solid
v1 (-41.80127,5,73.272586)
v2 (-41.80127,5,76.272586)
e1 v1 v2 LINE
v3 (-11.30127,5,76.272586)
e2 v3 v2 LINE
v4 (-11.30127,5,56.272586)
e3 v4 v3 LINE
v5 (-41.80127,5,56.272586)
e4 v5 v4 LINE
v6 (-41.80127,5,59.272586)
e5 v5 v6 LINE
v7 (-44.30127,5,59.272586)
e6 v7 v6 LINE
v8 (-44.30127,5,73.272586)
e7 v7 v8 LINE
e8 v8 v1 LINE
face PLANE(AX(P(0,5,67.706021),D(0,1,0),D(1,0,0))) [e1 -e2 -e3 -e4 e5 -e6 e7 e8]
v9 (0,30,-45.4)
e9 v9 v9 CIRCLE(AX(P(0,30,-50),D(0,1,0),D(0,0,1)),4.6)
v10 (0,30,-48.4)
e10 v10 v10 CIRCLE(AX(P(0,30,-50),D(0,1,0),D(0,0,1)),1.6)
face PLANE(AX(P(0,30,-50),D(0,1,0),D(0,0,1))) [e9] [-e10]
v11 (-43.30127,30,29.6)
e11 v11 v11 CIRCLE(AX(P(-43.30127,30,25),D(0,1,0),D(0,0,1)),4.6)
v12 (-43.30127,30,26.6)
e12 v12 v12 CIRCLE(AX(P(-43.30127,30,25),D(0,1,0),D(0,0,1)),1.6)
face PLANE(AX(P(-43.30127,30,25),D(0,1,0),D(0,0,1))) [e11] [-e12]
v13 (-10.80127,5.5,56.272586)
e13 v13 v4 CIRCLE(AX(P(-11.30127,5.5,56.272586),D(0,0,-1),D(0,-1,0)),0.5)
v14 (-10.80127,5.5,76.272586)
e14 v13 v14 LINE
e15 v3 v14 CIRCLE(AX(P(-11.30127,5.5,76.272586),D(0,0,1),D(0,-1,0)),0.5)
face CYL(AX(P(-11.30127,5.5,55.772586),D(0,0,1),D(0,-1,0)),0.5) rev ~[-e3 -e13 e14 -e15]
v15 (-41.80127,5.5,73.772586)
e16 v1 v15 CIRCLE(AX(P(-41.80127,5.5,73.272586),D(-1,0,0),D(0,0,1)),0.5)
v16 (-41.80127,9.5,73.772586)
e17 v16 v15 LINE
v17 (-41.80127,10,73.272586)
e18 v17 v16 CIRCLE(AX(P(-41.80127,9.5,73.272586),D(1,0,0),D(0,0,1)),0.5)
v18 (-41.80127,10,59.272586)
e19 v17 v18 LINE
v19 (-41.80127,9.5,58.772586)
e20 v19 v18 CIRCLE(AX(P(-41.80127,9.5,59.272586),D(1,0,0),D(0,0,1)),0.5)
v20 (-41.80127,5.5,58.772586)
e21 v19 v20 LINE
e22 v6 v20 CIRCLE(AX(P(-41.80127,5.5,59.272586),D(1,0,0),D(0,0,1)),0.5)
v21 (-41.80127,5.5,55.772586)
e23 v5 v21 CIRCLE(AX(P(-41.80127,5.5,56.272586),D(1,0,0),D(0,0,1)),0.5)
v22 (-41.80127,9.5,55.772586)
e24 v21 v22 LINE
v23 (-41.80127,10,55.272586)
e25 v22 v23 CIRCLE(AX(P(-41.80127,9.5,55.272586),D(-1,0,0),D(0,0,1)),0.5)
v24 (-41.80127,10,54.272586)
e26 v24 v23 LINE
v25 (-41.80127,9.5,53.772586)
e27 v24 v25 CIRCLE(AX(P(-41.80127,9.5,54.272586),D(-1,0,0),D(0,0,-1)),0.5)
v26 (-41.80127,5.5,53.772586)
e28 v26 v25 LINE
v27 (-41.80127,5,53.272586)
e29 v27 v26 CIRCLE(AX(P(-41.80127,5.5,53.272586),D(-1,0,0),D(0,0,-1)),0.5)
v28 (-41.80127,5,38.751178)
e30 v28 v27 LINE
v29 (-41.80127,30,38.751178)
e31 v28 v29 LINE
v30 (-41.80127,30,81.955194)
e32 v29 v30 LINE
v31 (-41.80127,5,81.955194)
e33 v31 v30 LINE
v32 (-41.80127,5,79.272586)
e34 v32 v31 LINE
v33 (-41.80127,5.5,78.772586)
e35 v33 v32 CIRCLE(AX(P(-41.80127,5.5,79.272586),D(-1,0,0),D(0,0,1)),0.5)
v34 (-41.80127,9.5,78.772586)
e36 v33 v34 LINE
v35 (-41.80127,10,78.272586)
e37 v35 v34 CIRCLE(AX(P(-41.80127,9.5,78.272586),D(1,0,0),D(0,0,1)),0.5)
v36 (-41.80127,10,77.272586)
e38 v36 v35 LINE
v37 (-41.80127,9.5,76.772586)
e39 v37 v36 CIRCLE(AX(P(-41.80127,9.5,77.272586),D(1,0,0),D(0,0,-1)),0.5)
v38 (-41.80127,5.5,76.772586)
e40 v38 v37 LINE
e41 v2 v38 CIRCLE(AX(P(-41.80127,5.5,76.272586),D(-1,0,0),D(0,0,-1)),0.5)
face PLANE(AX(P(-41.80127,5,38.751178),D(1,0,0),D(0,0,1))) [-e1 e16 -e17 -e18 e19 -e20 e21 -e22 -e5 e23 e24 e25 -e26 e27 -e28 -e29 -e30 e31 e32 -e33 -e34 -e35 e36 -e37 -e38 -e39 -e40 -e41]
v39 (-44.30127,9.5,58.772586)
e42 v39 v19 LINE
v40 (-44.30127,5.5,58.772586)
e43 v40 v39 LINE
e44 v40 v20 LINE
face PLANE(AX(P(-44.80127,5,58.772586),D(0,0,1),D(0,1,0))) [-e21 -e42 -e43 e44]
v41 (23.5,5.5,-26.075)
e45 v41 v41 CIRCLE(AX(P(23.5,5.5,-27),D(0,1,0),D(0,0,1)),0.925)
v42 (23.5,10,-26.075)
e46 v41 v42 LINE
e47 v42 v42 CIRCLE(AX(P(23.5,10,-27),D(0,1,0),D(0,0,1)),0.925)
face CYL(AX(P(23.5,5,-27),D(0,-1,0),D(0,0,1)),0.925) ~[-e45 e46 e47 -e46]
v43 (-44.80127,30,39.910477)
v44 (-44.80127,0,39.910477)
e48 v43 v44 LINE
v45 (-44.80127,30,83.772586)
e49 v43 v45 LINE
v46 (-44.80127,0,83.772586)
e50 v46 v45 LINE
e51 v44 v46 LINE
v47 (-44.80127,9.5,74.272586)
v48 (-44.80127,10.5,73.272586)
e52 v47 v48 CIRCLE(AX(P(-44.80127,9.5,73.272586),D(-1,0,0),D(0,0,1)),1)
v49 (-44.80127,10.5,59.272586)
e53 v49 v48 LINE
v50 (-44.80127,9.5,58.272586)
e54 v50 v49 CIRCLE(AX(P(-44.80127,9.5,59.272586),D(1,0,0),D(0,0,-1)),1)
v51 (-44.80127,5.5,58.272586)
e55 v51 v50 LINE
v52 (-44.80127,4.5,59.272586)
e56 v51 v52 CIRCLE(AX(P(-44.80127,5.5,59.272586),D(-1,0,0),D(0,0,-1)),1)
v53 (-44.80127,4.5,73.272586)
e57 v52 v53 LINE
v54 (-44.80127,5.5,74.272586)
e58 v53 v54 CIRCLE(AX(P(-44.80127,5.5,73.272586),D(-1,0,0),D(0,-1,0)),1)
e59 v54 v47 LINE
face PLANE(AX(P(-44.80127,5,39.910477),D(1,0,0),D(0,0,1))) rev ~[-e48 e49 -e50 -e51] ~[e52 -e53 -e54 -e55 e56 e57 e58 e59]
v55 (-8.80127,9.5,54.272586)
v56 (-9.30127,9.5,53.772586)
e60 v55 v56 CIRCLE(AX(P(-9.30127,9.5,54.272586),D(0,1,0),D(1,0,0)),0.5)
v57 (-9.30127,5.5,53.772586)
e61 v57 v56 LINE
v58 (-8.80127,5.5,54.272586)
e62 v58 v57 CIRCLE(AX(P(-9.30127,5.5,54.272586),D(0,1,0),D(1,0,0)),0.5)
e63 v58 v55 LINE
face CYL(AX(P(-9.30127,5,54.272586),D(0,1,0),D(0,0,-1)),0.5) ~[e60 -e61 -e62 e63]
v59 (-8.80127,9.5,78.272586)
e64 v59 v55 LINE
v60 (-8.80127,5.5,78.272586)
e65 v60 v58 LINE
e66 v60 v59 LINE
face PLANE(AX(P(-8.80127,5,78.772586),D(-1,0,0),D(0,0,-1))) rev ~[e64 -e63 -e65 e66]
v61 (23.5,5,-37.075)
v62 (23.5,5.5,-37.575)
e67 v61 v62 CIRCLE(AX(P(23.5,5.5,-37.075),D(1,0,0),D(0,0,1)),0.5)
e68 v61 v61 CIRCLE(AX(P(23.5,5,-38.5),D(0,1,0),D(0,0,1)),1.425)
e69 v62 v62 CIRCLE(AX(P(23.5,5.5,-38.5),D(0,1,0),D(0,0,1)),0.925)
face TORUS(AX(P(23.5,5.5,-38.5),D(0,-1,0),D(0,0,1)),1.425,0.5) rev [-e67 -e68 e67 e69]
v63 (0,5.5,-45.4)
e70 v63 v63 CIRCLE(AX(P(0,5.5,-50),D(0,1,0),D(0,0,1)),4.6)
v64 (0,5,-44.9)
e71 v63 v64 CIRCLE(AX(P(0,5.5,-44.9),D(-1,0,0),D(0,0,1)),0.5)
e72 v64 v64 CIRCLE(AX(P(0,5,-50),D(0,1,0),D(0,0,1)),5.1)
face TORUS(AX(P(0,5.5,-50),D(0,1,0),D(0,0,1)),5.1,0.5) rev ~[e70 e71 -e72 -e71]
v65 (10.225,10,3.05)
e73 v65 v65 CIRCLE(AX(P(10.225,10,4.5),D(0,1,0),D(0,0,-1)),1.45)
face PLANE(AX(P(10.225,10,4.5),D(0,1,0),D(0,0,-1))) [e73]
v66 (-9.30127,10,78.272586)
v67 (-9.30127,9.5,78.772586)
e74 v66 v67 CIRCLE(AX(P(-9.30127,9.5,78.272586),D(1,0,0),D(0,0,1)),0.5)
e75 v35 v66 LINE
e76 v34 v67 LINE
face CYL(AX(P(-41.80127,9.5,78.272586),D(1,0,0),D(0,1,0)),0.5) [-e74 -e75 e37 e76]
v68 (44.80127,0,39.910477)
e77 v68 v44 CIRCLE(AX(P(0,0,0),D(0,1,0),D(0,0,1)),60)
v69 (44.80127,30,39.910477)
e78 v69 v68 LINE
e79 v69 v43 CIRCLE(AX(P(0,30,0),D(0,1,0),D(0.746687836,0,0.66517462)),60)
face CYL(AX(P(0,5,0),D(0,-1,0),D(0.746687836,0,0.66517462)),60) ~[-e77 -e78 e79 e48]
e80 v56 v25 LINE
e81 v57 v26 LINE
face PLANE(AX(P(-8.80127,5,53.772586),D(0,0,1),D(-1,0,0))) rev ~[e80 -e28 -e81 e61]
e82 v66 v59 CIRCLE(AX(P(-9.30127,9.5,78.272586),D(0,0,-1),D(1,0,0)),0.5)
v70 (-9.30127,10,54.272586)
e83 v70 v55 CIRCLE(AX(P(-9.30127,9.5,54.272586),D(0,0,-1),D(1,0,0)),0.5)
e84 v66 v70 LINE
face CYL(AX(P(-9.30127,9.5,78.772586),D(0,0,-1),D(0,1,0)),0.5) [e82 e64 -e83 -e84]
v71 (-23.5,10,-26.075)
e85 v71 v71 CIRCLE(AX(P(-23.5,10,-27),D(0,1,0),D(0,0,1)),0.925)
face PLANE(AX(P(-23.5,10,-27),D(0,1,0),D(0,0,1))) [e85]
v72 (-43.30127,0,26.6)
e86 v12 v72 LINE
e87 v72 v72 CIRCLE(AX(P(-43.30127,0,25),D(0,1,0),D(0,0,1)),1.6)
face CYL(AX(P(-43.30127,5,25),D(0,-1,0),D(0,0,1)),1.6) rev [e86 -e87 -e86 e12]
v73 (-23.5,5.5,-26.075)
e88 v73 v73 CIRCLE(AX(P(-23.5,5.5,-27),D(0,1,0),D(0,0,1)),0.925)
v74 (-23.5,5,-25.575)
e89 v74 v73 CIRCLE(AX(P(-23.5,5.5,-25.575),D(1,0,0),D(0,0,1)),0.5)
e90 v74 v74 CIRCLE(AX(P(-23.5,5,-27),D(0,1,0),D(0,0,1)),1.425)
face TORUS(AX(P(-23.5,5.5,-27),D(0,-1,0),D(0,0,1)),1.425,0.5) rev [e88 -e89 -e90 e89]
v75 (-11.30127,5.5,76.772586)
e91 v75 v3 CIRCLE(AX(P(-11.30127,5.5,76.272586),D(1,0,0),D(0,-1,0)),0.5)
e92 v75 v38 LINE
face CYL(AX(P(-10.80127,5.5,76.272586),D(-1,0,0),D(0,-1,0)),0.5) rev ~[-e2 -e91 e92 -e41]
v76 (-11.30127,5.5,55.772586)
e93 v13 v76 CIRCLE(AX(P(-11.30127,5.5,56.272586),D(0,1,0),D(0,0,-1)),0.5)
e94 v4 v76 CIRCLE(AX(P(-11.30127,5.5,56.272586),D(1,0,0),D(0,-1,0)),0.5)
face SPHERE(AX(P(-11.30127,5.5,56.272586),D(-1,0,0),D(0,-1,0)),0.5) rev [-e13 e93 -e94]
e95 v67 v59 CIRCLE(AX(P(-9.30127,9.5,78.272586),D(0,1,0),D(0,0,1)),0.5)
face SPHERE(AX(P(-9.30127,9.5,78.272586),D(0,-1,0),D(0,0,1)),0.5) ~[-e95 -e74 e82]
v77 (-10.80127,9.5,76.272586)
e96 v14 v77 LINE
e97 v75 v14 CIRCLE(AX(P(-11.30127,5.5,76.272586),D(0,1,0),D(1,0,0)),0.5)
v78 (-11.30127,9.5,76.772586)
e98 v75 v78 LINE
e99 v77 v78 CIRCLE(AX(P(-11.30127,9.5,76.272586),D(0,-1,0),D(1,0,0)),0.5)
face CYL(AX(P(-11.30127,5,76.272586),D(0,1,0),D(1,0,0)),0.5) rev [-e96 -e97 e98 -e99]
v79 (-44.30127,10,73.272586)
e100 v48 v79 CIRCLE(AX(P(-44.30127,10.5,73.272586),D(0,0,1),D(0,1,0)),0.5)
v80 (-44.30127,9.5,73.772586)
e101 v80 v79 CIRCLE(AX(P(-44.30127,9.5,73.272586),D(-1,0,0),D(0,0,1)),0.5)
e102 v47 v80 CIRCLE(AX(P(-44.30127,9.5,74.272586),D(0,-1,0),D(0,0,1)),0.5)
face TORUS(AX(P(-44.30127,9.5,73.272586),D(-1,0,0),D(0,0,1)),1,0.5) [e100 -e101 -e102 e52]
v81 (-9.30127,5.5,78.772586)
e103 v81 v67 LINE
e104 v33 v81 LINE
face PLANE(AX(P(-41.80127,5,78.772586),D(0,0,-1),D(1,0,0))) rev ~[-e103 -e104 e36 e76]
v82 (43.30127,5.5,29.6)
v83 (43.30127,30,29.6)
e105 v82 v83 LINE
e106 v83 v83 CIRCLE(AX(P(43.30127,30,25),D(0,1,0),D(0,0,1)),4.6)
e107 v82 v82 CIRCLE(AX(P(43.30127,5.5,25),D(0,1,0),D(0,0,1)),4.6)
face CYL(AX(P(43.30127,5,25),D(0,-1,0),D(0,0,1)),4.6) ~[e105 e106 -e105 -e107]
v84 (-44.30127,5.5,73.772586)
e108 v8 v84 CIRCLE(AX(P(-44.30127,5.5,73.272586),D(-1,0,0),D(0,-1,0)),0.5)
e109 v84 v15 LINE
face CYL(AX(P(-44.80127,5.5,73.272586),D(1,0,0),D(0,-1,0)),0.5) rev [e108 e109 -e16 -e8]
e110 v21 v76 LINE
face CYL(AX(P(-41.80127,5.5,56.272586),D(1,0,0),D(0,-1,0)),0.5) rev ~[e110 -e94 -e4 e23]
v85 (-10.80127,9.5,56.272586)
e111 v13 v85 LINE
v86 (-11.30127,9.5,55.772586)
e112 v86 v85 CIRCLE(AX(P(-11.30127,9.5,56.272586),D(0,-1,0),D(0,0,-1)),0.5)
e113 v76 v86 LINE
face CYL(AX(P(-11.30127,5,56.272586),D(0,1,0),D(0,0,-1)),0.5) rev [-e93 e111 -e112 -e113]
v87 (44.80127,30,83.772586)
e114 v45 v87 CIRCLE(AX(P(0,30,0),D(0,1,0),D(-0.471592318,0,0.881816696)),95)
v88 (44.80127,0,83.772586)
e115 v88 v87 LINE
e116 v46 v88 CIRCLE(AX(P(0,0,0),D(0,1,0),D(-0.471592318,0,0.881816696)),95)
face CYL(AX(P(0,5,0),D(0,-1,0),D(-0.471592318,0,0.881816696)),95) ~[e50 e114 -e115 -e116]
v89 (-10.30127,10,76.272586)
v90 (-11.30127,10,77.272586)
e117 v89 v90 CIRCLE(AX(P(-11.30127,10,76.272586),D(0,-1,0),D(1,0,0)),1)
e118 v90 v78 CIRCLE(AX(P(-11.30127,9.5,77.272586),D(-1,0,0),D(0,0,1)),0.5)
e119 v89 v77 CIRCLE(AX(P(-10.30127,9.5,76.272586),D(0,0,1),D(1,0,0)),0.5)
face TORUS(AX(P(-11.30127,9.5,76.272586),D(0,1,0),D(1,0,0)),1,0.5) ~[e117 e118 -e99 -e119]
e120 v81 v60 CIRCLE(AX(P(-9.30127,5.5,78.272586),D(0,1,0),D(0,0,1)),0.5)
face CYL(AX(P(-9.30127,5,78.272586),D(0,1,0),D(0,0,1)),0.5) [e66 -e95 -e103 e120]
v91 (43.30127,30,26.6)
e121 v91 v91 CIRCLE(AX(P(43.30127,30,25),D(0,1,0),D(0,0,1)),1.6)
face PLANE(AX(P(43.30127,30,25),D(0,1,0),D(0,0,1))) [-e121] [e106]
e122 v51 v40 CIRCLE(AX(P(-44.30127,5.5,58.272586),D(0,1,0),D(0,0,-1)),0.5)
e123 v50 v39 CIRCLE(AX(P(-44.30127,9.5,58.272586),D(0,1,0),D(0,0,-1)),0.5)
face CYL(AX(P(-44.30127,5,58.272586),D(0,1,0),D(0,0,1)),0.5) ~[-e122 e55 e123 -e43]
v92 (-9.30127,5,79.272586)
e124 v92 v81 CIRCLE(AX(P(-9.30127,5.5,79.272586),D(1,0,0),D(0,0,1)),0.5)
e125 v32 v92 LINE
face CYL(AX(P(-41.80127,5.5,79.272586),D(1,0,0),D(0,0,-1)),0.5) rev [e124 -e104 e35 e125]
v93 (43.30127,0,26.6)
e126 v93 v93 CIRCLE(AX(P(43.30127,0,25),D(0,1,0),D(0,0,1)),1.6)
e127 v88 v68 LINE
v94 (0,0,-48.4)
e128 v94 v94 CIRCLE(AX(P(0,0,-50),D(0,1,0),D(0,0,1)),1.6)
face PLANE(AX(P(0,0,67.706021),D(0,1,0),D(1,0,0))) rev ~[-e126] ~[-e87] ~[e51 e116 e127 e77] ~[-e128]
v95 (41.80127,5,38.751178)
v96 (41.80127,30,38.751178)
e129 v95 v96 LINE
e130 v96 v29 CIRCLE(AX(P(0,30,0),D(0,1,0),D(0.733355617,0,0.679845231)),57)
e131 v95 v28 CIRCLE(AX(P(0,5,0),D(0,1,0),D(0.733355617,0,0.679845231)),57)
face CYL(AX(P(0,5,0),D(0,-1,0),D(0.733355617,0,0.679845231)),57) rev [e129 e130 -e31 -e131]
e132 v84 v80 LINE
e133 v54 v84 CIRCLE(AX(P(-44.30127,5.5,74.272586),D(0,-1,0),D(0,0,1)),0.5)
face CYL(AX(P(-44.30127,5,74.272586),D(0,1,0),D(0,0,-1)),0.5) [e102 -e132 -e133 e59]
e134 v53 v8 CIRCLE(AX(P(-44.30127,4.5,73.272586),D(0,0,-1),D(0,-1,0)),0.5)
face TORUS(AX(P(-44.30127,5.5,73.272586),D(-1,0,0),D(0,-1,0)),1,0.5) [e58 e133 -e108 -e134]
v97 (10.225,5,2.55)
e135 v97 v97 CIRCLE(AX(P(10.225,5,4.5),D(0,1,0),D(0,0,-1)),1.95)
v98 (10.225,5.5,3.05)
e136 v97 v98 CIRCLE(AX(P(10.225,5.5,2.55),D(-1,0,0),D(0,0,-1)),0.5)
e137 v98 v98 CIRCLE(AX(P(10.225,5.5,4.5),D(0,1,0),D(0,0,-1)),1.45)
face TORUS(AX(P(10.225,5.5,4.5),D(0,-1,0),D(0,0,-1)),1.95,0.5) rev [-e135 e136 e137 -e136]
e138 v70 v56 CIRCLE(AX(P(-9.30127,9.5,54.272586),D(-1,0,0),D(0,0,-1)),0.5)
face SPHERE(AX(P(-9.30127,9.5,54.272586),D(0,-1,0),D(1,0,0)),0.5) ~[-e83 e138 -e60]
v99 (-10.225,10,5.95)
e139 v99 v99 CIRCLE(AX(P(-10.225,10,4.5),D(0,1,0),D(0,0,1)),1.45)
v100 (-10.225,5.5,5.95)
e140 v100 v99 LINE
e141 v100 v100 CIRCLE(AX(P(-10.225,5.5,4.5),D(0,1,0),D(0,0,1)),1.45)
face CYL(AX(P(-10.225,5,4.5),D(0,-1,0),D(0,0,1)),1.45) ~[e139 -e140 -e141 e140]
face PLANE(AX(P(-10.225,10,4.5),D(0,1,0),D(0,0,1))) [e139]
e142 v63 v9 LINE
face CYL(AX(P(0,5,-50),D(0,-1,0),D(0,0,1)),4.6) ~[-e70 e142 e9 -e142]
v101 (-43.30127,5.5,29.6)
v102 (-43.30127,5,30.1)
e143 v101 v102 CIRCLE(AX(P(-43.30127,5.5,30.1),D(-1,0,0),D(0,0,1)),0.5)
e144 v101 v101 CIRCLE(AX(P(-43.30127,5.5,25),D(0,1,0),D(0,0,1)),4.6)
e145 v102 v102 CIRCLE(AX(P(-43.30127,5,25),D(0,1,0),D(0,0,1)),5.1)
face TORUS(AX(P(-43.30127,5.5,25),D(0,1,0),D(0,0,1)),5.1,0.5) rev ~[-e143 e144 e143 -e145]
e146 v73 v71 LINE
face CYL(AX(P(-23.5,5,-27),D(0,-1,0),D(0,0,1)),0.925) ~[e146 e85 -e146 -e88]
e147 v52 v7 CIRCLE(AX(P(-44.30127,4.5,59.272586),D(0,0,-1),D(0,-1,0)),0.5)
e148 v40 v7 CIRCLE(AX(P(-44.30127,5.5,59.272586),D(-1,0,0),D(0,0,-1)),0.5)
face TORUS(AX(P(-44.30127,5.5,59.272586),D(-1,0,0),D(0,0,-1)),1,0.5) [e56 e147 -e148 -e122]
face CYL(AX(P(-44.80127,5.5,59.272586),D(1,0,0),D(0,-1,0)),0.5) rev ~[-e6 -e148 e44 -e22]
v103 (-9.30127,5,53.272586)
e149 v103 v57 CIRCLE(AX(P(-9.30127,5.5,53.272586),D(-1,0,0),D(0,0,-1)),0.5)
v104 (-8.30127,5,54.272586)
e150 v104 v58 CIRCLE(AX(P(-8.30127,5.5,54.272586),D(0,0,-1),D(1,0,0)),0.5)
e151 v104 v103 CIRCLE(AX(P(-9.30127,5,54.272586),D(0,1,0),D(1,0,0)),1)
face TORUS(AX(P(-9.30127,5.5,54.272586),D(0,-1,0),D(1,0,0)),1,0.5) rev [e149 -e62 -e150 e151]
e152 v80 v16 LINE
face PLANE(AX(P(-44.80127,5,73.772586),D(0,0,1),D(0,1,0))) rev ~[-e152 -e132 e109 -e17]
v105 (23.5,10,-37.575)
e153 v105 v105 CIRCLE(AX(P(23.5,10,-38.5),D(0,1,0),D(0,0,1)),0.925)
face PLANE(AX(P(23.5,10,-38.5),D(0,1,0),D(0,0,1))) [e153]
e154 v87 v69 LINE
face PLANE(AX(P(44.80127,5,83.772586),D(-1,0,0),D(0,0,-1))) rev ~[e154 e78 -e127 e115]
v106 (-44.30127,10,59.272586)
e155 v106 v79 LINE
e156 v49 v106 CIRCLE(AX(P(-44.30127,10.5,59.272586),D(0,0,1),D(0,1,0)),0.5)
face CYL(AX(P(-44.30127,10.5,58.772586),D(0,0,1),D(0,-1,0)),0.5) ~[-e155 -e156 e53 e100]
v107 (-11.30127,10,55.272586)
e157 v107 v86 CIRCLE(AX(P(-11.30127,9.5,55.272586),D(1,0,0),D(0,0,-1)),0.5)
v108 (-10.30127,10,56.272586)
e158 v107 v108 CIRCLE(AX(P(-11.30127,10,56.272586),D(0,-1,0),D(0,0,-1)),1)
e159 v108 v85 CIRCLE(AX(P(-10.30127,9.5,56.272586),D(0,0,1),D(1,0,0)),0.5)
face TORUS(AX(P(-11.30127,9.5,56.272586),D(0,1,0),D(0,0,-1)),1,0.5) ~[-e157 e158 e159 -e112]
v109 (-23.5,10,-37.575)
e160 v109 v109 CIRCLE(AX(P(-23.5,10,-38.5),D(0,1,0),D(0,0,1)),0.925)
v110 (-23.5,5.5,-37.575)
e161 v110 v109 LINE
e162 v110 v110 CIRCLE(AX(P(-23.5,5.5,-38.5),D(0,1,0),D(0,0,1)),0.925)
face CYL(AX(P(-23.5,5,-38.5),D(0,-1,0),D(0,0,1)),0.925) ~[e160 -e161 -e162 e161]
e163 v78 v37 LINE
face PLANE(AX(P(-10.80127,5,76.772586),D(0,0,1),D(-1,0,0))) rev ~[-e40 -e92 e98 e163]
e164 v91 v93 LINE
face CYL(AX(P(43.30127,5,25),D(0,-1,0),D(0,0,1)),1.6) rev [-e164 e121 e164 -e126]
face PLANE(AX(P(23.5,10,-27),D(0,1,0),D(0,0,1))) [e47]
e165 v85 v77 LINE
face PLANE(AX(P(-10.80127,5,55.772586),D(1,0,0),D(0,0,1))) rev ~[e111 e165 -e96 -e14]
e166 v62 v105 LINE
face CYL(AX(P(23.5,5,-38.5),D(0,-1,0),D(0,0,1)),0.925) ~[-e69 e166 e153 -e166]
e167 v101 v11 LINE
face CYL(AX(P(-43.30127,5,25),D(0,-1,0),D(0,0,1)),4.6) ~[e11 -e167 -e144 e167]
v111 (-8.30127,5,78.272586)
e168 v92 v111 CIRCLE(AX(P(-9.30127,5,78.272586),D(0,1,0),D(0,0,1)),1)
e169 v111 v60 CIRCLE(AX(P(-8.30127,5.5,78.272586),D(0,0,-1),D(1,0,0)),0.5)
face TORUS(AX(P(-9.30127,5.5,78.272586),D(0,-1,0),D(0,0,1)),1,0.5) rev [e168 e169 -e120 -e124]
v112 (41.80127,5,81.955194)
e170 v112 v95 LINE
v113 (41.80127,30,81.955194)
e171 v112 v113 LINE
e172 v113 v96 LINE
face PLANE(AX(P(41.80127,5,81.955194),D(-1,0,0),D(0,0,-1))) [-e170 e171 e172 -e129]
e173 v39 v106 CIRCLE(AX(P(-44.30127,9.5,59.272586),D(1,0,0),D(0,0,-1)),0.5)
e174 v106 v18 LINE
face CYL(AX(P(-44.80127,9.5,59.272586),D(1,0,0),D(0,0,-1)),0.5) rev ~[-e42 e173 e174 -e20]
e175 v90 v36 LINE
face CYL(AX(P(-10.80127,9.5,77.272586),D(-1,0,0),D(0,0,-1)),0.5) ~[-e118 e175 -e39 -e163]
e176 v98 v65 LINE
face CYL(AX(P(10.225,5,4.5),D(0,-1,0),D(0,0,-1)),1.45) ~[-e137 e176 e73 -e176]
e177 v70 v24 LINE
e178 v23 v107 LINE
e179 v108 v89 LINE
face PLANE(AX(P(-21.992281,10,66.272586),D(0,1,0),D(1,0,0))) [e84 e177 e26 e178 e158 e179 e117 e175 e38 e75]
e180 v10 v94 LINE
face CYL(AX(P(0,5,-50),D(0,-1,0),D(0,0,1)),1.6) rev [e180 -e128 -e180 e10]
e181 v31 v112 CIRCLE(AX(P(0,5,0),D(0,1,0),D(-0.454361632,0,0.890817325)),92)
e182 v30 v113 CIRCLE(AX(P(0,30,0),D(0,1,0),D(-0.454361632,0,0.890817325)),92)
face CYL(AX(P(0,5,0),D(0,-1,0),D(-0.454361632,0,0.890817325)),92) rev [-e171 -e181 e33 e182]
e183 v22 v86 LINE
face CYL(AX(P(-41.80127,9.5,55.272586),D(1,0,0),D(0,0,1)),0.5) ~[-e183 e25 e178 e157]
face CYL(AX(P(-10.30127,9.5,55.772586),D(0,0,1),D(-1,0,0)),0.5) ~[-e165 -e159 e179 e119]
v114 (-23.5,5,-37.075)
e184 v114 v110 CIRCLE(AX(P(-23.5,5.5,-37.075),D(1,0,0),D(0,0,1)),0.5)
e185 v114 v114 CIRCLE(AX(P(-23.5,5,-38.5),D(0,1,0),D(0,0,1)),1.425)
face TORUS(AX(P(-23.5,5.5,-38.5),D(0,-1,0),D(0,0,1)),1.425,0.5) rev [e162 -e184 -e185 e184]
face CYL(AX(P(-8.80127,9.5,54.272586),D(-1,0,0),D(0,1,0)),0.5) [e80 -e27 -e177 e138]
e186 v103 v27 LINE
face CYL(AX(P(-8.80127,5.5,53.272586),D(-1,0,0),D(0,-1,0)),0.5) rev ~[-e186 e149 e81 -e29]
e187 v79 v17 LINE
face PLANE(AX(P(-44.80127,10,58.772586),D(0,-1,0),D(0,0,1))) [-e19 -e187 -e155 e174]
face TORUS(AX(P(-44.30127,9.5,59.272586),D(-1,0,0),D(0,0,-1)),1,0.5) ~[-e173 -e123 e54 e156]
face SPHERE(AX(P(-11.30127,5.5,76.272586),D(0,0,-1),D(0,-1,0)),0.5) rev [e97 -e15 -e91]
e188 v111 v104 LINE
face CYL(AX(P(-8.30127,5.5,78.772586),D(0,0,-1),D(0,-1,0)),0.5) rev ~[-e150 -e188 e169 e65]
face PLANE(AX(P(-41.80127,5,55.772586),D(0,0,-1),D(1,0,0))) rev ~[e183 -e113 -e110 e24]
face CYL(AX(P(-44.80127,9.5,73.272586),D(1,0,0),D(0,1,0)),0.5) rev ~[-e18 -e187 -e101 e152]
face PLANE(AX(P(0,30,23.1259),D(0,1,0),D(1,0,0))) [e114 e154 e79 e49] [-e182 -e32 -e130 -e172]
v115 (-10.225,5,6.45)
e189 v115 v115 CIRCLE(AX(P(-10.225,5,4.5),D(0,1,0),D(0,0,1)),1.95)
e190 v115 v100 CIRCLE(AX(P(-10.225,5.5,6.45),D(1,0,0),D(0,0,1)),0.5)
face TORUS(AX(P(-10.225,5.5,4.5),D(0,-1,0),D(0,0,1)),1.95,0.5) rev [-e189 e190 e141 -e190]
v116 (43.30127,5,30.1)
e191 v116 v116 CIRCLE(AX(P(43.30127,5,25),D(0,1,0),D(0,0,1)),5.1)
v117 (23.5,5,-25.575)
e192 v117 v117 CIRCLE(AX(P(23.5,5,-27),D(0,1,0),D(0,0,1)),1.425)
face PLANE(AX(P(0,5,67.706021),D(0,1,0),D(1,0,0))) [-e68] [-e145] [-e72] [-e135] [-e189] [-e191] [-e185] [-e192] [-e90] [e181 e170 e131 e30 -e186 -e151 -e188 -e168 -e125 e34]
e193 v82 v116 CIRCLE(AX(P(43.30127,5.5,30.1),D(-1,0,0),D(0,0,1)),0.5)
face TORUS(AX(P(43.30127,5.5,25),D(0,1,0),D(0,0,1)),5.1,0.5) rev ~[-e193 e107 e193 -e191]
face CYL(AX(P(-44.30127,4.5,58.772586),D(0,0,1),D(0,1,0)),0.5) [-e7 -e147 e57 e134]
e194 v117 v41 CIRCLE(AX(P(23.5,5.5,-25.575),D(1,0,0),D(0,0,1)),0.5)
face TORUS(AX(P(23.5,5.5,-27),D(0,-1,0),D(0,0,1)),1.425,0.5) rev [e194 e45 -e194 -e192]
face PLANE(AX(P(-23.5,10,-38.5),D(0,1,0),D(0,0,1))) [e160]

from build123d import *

# Parameters (mm, degrees)
CROQUIS1_R              = 60
CROQUIS1_R_2            = 1.6
SALIENTE_EXTRUIR1_DEPTH = 5
SALIENTE_EXTRUIR2_START = -5
SALIENTE_EXTRUIR2_DEPTH = 5
SALIENTE_EXTRUIR3_DEPTH = 25
CROQUIS4_R              = 1.45
SALIENTE_EXTRUIR4_DEPTH = 5
CROQUIS5_R              = 0.925
SALIENTE_EXTRUIR5_DEPTH = 5
CROQUIS6_R              = 4.6
CROQUIS6_R_2            = 1.6
SALIENTE_EXTRUIR6_DEPTH = 25
REDONDEO1_R             = 0.5
CROQUIS7_W              = 15
CROQUIS7_H              = 5
CORTAR_EXTRUIR1_DEPTH   = 5
REDONDEO2_R             = 0.5
SALIENTE_EXTRUIR7_DEPTH = 5
REDONDEO3_R             = 0.5


with BuildPart() as part:
    # Croquis1 → Saliente-Extruir1 (new body)
    with BuildSketch(Plane(origin=(0, 0, 0), x_dir=(1, 0, 0), z_dir=(0, 1, 0))):
        with Locations(Location((0, 0, 0), (0, 0, 270))):
            Circle(CROQUIS1_R)
        with Locations(Location((0, 50, 0), (0, 0, 270))):
            Circle(CROQUIS1_R_2, mode=Mode.SUBTRACT)
        with Locations(Location((43.301270189, -25, 0), (0, 0, 270))):
            Circle(CROQUIS1_R_2, mode=Mode.SUBTRACT)
        with Locations(Location((-43.301270189, -25, 0), (0, 0, 270))):
            Circle(CROQUIS1_R_2, mode=Mode.SUBTRACT)
    extrude(amount=SALIENTE_EXTRUIR1_DEPTH)

    # Croquis2 → Saliente-Extruir2 (add)
    with BuildSketch(Plane(origin=(0, 5, 0), x_dir=(1, 0, 0), z_dir=(0, 1, 0)).offset(SALIENTE_EXTRUIR2_START)):
        with BuildLine():
            Line((-44.801270189, -39.910477189), (-44.801270189, -83.772586145))
            ThreePointArc((-44.801270189, -83.772586145), (0, -95), (44.801270189, -83.772586145))
            Line((44.801270189, -83.772586145), (44.801270189, -39.910477189))
            ThreePointArc((44.801270189, -39.910477189), (0, -60), (-44.801270189, -39.910477189))
        make_face()
    extrude(amount=SALIENTE_EXTRUIR2_DEPTH)

    # Croquis3 → Saliente-Extruir3 (add)
    with BuildSketch(Plane(origin=(0, 5, 0), x_dir=(1, 0, 0), z_dir=(0, 1, 0))):
        with BuildLine():
            Line((-44.801270189, -39.910477189), (-44.801270189, -83.772586145))
            ThreePointArc((-44.801270189, -83.772586145), (0, -95), (44.801270189, -83.772586145))
            Line((44.801270189, -83.772586145), (44.801270189, -39.910477189))
            ThreePointArc((44.801270189, -39.910477189), (0, 60), (-44.801270189, -39.910477189))
        make_face()
        with BuildLine():
            Line((-41.801270189, -38.751178183), (-41.801270189, -81.955193921))
            ThreePointArc((-41.801270189, -81.955193921), (0, -92), (41.801270189, -81.955193921))
            Line((41.801270189, -81.955193921), (41.801270189, -38.751178183))
            ThreePointArc((41.801270189, -38.751178183), (0, 57), (-41.801270189, -38.751178183))
        make_face(mode=Mode.SUBTRACT)
    extrude(amount=SALIENTE_EXTRUIR3_DEPTH)

    # Croquis4 → Saliente-Extruir4 (add)
    with BuildSketch(Plane(origin=(0, 5, 0), x_dir=(1, 0, 0), z_dir=(0, 1, 0))):
        with Locations(Location((-10.225, -4.5, 0), (0, 0, 270))):
            Circle(CROQUIS4_R)
        with Locations(Location((10.225, -4.5, 0), (0, 0, 90))):
            Circle(CROQUIS4_R)
    extrude(amount=SALIENTE_EXTRUIR4_DEPTH)

    # Croquis5 → Saliente-Extruir5 (add)
    with BuildSketch(Plane(origin=(0, 5, 0), x_dir=(1, 0, 0), z_dir=(0, 1, 0))):
        with Locations(Location((23.5, 38.5, 0), (0, 0, 270))):
            Circle(CROQUIS5_R)
        with Locations(Location((23.5, 27, 0), (0, 0, 270))):
            Circle(CROQUIS5_R)
        with Locations(Location((-23.5, 27, 0), (0, 0, 270))):
            Circle(CROQUIS5_R)
        with Locations(Location((-23.5, 38.5, 0), (0, 0, 270))):
            Circle(CROQUIS5_R)
    extrude(amount=SALIENTE_EXTRUIR5_DEPTH)

    # Croquis6 → Saliente-Extruir6 (add)
    # profile 1 of 3: a face of its own
    with BuildSketch(Plane(origin=(0, 5, 0), x_dir=(1, 0, 0), z_dir=(0, 1, 0))):
        with Locations(Location((0, 50, 0), (0, 0, 270))):
            Circle(CROQUIS6_R)
        with Locations(Location((0, 50, 0), (0, 0, 270))):
            Circle(CROQUIS6_R_2, mode=Mode.SUBTRACT)
    # profile 2 of 3: a face of its own
    with BuildSketch(Plane(origin=(0, 5, 0), x_dir=(1, 0, 0), z_dir=(0, 1, 0))):
        with Locations(Location((43.301270189, -25, 0), (0, 0, 270))):
            Circle(CROQUIS6_R)
        with Locations(Location((43.301270189, -25, 0), (0, 0, 270))):
            Circle(CROQUIS6_R_2, mode=Mode.SUBTRACT)
    # profile 3 of 3: a face of its own
    with BuildSketch(Plane(origin=(0, 5, 0), x_dir=(1, 0, 0), z_dir=(0, 1, 0))):
        with Locations(Location((-43.301270189, -25, 0), (0, 0, 270))):
            Circle(CROQUIS6_R)
        with Locations(Location((-43.301270189, -25, 0), (0, 0, 270))):
            Circle(CROQUIS6_R_2, mode=Mode.SUBTRACT)
    extrude(amount=SALIENTE_EXTRUIR6_DEPTH)

    # Redondeo1
    redondeo1_edges = [part.edges().sort_by_distance(p)[0] for p in [
        (-10.225, 5, 3.05),
        (10.225, 5, 5.95),
        (-23.5, 5, -39.425),
        (-23.5, 5, -27.925),
        (23.5, 5, -27.925),
        (23.5, 5, -39.425),
        (0, 5, -54.6),
        (43.301270189, 5, 20.4),
        (-43.301270189, 5, 20.4),
    ]]
    fillet(redondeo1_edges, radius=REDONDEO1_R)

    # Croquis7 → Cortar-Extruir1 (cut)
    with BuildSketch(Plane.ZY.offset(44.801270189)):
        with Locations((66.272586145, 7.5)):
            Rectangle(CROQUIS7_W, CROQUIS7_H)
    extrude(amount=-CORTAR_EXTRUIR1_DEPTH, mode=Mode.SUBTRACT)

    # Redondeo2
    redondeo2_edges = [part.edges().sort_by_distance(p)[0] for p in [
        (-43.301270189, 5, 73.772586145),
        (-43.301270189, 5, 58.772586145),
        (-43.301270189, 10, 58.772586145),
        (-43.301270189, 10, 73.772586145),
        (-44.801270189, 7.5, 58.772586145),
        (-44.801270189, 5, 66.272586145),
        (-44.801270189, 7.5, 73.772586145),
        (-44.801270189, 10, 66.272586145),
    ]]
    fillet(redondeo2_edges, radius=REDONDEO2_R)

    # Croquis9 → Saliente-Extruir7 (add)
    with BuildSketch(Plane(origin=(0, 5, 0), x_dir=(1, 0, 0), z_dir=(0, 1, 0))):
        Polygon((-41.801270189, -55.772586145), (-10.801270189, -55.772586145), (-10.801270189, -76.772586145), (-41.801270189, -76.772586145), (-41.801270189, -78.772586145), (-8.801270189, -78.772586145), (-8.801270189, -53.772586145), (-41.801270189, -53.772586145), align=None)
    extrude(amount=SALIENTE_EXTRUIR7_DEPTH)

    # Redondeo3
    redondeo3_edges = [part.edges().sort_by_distance(p)[0] for p in [
        (-26.301270189, 5, 55.772586145),
        (-10.801270189, 5, 66.272586145),
        (-10.801270189, 7.5, 55.772586145),
        (-26.301270189, 5, 76.772586145),
        (-10.801270189, 7.5, 76.772586145),
        (-25.301270189, 5, 78.772586145),
        (-8.801270189, 5, 66.272586145),
        (-8.801270189, 7.5, 78.772586145),
        (-25.301270189, 5, 53.772586145),
        (-8.801270189, 7.5, 53.772586145),
        (-26.301270189, 10, 55.772586145),
        (-10.801270189, 10, 66.272586145),
        (-26.301270189, 10, 76.772586145),
        (-25.301270189, 10, 78.772586145),
        (-8.801270189, 10, 66.272586145),
        (-25.301270189, 10, 53.772586145),
    ]]
    fillet(redondeo3_edges, radius=REDONDEO3_R)


solid = part.part
